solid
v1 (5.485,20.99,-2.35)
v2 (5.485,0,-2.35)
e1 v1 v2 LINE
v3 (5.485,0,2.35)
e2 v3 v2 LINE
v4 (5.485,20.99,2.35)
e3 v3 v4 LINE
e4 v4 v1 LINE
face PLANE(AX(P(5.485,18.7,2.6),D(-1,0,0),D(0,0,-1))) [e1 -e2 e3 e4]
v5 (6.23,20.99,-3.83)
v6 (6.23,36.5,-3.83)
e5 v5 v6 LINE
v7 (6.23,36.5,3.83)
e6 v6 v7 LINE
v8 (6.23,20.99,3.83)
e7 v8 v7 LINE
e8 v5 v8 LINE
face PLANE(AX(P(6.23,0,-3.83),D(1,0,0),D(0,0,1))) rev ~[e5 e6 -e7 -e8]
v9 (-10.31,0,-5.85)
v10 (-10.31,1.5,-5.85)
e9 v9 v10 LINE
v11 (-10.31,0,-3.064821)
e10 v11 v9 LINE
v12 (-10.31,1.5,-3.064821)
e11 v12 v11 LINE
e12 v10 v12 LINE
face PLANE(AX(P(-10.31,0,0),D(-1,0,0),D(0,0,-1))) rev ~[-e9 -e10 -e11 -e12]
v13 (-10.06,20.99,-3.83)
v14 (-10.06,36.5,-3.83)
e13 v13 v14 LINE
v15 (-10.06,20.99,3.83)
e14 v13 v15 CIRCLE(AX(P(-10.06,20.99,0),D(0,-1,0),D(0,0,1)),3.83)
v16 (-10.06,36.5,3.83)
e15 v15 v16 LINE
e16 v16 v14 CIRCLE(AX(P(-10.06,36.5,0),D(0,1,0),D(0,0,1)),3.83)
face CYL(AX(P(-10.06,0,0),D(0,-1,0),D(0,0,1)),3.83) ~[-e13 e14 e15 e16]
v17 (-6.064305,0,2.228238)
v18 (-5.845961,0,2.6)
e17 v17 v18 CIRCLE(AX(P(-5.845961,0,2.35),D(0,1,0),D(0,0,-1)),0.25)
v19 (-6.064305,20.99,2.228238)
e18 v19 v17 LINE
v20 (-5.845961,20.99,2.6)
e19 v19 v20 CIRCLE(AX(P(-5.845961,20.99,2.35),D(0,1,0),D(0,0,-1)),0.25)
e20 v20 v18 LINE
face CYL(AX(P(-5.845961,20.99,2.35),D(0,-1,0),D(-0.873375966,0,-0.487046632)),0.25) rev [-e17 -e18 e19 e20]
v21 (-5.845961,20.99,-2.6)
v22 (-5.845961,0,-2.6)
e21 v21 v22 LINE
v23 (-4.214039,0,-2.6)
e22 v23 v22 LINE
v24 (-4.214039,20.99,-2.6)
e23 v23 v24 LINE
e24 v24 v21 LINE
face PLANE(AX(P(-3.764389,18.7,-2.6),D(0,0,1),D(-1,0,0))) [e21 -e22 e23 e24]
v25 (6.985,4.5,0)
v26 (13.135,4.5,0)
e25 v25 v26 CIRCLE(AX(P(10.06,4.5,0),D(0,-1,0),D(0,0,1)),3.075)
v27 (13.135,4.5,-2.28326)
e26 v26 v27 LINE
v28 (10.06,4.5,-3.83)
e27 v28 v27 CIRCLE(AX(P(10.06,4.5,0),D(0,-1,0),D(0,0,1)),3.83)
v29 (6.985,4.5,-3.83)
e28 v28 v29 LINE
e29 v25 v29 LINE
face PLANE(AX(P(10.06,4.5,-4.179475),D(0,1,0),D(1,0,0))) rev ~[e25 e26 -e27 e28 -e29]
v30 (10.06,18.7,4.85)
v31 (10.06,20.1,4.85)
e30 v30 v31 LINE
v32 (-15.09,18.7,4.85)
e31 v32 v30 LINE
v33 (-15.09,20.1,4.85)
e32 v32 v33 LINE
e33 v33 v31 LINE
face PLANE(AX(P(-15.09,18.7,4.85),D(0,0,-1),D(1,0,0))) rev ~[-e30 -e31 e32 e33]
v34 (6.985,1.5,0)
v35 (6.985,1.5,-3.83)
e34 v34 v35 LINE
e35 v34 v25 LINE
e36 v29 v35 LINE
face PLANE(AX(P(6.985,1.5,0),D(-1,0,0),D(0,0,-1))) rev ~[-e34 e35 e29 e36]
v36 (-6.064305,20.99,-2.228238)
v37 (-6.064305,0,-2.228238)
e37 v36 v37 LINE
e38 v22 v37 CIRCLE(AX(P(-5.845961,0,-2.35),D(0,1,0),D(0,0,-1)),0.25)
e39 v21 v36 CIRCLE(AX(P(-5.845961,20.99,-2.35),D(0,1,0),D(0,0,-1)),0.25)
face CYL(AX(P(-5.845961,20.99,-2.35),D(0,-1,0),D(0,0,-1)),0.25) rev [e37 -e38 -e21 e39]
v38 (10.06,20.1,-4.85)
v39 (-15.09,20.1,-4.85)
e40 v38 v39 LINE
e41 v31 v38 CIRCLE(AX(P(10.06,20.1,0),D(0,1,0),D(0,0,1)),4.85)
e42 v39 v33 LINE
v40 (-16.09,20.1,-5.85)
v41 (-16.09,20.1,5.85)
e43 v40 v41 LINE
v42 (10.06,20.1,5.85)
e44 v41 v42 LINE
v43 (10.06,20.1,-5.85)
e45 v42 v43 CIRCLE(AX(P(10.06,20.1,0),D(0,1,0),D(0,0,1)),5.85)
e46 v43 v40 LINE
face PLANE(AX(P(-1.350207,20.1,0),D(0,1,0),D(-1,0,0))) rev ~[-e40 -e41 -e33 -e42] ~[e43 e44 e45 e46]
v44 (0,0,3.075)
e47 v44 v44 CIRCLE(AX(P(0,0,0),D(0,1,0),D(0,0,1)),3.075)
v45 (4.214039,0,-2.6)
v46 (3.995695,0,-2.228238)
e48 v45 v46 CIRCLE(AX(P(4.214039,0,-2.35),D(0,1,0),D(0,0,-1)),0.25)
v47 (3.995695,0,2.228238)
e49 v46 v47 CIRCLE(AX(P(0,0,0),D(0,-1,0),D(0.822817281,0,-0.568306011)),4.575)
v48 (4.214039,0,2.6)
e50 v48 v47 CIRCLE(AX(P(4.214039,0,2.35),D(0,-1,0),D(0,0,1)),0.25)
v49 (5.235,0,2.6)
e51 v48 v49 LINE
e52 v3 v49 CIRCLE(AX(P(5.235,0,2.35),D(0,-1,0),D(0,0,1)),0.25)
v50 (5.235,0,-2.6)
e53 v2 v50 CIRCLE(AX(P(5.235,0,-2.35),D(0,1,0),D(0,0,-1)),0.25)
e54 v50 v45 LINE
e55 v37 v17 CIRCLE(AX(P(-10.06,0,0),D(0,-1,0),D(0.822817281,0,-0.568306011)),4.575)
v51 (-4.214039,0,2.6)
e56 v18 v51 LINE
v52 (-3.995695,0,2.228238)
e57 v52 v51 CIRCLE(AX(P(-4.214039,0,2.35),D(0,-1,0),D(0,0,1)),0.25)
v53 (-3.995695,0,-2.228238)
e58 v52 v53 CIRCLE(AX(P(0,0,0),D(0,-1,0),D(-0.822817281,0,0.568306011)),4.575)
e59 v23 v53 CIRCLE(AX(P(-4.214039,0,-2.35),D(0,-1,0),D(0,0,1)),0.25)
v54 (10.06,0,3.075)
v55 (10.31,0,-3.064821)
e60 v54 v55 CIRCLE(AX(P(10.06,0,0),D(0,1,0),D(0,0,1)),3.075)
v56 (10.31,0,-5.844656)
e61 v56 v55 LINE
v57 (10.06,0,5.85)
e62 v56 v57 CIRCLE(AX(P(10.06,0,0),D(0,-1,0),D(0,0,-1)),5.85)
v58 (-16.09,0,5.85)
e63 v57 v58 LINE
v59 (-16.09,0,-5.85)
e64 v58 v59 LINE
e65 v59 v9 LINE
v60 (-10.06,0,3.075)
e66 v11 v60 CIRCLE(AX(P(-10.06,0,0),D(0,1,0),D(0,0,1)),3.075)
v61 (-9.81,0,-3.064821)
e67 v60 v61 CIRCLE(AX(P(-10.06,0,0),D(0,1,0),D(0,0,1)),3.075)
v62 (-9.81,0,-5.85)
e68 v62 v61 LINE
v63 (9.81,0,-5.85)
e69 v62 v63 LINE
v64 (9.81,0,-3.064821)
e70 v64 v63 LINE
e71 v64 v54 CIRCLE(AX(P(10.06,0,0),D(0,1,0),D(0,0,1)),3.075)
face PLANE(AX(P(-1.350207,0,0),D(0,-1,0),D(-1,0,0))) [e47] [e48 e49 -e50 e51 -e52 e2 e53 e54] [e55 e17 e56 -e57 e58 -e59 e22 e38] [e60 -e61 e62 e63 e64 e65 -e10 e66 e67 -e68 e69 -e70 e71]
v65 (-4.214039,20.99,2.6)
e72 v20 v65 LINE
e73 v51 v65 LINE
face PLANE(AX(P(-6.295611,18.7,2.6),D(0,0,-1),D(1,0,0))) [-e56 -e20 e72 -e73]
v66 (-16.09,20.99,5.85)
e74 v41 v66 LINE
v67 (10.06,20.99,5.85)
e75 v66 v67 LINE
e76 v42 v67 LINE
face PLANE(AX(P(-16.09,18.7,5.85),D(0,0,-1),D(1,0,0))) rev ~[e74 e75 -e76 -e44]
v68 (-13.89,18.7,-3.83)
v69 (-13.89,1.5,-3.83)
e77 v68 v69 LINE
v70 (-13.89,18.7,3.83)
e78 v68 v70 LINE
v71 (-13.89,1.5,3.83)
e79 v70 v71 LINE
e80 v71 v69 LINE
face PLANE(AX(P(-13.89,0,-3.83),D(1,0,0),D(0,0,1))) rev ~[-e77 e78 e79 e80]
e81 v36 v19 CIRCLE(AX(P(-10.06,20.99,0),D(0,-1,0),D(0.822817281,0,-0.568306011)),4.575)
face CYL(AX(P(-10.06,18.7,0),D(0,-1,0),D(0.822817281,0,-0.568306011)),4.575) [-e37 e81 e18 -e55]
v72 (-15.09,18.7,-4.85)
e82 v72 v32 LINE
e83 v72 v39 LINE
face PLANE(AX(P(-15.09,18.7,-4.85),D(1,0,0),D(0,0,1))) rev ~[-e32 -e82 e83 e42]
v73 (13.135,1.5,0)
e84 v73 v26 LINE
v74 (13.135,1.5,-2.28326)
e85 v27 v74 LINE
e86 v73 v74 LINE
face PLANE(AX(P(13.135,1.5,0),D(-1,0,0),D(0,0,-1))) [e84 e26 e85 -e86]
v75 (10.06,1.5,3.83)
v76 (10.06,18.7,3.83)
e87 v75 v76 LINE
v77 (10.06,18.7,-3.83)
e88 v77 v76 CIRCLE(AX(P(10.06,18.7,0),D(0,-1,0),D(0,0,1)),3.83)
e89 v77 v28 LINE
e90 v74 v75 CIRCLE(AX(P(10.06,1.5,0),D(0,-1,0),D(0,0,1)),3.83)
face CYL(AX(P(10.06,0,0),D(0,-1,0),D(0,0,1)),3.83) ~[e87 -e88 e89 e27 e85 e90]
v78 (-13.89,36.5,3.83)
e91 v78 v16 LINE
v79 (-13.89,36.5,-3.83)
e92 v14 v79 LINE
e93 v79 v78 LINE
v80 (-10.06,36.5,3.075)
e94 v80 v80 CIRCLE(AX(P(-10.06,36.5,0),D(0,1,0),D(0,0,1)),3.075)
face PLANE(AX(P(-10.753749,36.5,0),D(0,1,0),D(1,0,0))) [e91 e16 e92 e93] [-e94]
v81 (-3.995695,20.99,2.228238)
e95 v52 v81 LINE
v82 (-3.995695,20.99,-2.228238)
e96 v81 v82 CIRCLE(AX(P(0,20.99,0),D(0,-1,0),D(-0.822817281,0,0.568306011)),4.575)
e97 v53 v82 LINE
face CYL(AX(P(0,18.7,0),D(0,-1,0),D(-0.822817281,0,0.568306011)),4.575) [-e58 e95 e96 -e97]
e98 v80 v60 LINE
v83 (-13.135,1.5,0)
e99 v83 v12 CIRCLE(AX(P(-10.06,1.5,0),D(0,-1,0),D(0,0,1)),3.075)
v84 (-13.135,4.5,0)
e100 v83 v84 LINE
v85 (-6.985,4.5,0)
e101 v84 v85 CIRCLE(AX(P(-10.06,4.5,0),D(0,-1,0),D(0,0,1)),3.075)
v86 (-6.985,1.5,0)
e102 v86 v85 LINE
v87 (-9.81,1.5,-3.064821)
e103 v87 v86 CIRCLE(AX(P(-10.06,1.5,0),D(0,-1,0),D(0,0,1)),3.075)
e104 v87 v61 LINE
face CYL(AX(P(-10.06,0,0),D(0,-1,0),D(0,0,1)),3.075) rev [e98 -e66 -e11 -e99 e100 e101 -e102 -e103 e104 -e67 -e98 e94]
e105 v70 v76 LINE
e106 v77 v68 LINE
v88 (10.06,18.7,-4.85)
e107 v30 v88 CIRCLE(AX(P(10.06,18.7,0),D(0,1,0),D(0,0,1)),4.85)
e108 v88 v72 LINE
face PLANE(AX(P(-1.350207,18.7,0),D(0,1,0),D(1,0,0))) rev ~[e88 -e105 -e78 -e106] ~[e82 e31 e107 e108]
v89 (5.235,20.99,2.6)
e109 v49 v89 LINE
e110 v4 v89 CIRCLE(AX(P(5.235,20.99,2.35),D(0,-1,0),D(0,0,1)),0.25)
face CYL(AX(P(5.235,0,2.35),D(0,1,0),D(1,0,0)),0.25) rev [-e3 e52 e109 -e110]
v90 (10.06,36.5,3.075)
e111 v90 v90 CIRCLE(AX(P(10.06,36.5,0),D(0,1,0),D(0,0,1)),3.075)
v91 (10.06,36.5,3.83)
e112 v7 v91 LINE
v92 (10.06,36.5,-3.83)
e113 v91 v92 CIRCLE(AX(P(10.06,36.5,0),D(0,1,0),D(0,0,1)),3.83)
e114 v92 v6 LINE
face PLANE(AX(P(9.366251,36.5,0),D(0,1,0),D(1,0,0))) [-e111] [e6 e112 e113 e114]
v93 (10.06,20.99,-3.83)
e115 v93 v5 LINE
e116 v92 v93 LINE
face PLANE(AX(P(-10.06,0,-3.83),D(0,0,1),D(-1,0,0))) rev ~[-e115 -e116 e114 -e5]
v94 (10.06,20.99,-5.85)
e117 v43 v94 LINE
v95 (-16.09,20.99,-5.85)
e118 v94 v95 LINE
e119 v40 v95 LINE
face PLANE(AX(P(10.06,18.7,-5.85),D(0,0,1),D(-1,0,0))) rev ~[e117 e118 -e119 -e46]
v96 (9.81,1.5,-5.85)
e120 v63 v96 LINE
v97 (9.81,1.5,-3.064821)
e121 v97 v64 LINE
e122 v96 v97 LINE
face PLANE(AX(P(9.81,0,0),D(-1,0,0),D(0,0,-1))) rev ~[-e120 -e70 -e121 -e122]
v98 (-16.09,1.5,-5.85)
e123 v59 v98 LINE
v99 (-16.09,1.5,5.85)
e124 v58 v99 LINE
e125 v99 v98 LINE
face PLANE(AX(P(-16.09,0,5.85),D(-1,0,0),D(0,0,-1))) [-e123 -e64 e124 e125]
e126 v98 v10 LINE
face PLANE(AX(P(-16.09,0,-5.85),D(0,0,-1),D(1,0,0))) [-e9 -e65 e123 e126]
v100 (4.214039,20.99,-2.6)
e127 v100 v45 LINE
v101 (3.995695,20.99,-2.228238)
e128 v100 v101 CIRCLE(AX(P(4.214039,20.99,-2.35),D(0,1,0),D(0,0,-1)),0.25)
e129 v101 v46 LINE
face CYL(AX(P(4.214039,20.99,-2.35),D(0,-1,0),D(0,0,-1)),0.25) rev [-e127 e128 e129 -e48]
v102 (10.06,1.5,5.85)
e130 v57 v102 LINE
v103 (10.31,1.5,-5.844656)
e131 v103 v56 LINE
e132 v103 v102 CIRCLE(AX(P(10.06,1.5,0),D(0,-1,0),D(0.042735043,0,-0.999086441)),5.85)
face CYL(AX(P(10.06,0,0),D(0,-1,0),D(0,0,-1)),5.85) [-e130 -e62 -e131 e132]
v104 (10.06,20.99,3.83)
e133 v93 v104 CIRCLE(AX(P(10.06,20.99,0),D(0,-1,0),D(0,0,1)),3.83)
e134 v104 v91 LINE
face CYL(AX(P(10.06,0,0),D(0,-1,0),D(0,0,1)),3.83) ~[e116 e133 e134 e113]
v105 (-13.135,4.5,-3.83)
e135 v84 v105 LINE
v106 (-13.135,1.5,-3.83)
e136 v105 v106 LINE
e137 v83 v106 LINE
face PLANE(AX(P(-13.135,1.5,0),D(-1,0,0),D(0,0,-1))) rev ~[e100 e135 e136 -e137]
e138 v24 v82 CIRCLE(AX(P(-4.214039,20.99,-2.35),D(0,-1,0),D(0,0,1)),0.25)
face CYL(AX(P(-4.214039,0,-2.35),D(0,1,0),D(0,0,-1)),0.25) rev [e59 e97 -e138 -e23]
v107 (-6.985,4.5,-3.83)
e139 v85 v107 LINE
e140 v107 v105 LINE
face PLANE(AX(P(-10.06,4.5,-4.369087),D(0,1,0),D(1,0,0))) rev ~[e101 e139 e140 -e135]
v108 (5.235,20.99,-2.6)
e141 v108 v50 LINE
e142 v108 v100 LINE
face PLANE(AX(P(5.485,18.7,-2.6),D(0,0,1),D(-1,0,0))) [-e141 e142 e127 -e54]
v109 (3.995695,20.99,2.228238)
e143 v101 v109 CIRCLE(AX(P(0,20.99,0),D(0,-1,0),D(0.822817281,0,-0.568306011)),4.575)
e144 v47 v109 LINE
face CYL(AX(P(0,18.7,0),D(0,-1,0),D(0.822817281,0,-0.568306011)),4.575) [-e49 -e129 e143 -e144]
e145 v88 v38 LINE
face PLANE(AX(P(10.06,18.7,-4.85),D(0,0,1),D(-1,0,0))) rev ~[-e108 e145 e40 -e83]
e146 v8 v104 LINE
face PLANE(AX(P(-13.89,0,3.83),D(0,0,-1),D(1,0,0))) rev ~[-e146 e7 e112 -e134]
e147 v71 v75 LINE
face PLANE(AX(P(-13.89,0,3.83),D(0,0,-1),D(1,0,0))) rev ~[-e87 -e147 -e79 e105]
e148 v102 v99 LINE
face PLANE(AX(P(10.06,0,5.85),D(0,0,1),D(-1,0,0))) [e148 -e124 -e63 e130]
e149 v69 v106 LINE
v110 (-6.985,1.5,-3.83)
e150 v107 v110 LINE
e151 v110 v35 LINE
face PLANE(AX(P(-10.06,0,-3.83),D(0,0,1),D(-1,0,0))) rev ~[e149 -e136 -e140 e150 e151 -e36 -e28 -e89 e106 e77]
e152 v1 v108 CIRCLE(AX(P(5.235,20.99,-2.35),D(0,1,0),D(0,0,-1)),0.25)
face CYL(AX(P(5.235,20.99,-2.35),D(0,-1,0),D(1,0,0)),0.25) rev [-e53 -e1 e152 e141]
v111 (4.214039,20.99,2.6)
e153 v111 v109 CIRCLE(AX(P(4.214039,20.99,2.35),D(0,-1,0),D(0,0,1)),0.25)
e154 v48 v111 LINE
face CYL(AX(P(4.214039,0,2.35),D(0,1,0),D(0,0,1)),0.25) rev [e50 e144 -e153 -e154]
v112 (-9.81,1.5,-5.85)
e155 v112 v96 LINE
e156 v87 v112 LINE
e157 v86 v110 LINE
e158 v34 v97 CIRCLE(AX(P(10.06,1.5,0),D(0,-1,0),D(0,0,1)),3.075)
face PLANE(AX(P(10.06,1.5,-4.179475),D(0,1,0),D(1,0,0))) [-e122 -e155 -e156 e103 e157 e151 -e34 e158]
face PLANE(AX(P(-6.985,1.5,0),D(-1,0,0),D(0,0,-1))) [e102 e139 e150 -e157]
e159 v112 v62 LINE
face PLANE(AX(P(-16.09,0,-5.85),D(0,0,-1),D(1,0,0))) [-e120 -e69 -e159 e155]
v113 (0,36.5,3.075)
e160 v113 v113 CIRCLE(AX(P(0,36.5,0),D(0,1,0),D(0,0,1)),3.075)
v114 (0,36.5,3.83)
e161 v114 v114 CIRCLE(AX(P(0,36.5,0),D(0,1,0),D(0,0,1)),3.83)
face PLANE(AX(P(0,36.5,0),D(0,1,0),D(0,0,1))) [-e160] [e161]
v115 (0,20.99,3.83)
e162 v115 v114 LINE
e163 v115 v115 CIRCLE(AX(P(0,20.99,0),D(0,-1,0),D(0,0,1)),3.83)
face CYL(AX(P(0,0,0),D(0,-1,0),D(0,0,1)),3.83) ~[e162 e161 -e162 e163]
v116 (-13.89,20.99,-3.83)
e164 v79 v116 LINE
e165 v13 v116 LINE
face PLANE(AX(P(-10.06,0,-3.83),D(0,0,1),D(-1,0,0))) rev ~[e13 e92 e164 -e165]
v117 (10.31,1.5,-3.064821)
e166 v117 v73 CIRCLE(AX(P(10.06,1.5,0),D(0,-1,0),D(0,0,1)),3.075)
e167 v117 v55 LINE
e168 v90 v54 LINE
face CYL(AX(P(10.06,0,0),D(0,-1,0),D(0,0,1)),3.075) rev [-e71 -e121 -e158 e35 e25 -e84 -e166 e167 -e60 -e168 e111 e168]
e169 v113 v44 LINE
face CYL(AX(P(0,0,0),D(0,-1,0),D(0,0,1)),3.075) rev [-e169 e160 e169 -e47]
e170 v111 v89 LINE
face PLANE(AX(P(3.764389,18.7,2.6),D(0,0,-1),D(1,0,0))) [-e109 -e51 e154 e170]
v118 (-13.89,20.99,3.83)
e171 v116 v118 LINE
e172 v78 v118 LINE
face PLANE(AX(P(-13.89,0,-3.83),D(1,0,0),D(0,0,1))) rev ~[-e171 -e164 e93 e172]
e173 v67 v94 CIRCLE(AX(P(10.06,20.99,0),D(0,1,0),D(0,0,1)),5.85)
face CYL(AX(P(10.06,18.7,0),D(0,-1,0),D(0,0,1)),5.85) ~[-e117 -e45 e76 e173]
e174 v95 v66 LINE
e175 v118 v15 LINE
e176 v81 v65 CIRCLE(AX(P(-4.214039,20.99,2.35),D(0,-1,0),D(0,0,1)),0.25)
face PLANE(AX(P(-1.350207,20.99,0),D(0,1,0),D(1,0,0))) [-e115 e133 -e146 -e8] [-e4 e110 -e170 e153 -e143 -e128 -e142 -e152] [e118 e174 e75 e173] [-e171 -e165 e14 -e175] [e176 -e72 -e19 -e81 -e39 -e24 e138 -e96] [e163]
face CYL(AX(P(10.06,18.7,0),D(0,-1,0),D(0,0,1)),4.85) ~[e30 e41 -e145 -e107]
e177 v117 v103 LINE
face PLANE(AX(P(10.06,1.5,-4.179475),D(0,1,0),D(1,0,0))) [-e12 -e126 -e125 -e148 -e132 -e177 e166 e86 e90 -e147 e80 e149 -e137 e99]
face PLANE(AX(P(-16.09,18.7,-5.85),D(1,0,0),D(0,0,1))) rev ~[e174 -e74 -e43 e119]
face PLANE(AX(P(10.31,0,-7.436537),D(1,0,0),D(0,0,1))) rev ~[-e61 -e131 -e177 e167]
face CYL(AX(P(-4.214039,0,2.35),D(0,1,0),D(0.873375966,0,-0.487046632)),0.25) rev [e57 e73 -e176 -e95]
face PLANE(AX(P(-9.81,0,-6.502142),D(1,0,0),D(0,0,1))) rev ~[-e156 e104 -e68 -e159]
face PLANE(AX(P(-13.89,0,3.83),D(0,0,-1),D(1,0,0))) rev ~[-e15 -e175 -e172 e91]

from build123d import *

# Parameters (mm, degrees)
SKETCH1_R               = 3.83
SKETCH1_R_2             = 3.075
BOSS_EXTRUDE1_DEPTH     = 36.5
BOSS_EXTRUDE1_2_DEPTH   = 36.5
BOSS_EXTRUDE1_3_DEPTH   = 36.5
SKETCH2_R               = 3.075
BOSS_EXTRUDE2_DEPTH     = 1.5
SKETCH3_R               = 3.075
BOSS_EXTRUDE3_DEPTH     = 17.2
SKETCH4_R               = 3.075
BOSS_EXTRUDE4_DEPTH     = 2.29
CUT_EXTRUDE1_DEPTH      = 1.4
FILLET1_R               = 0.25
CUT_EXTRUDE_THIN2_DEPTH = 1.6
SKETCH7_W               = 6.15
SKETCH7_H               = 8.738173166
SKETCH7_H_2             = 8.358950775
CUT_EXTRUDE2_DEPTH      = 3


with BuildPart() as part:
    # Sketch1 → Boss-Extrude1 (new body)
    with BuildSketch(Plane(origin=(0, 0, 0), x_dir=(1, 0, 0), z_dir=(0, 1, 0))):
        with Locations(Location((0, 0, 0), (0, 0, 270))):
            Circle(SKETCH1_R)
        with Locations(Location((0, 0, 0), (0, 0, 270))):
            Circle(SKETCH1_R_2, mode=Mode.SUBTRACT)
    extrude(amount=BOSS_EXTRUDE1_DEPTH)



with BuildPart() as body_2:
    # Sketch1 → Boss-Extrude1 2 (new body)
    with BuildSketch(Plane(origin=(0, 0, 0), x_dir=(1, 0, 0), z_dir=(0, 1, 0))):
        with BuildLine():
            Line((-10.06, 3.83), (-13.89, 3.83))
            Line((-13.89, 3.83), (-13.89, -3.83))
            Line((-13.89, -3.83), (-10.06, -3.83))
            ThreePointArc((-10.06, -3.83), (-6.23, 0), (-10.06, 3.83))
        make_face()
        with Locations(Location((-10.06, 0, 0), (0, 0, 270))):
            Circle(SKETCH1_R_2, mode=Mode.SUBTRACT)
    extrude(amount=BOSS_EXTRUDE1_2_DEPTH)


with BuildPart() as body_3:
    # Sketch1 → Boss-Extrude1 3 (new body)
    with BuildSketch(Plane(origin=(0, 0, 0), x_dir=(1, 0, 0), z_dir=(0, 1, 0))):
        with BuildLine():
            Line((10.06, 3.83), (6.23, 3.83))
            Line((6.23, 3.83), (6.23, -3.83))
            Line((6.23, -3.83), (10.06, -3.83))
            ThreePointArc((10.06, -3.83), (13.89, 0), (10.06, 3.83))
        make_face()
        with Locations(Location((10.06, 0, 0), (0, 0, 270))):
            Circle(SKETCH1_R_2, mode=Mode.SUBTRACT)
    extrude(amount=BOSS_EXTRUDE1_3_DEPTH)


with BuildPart() as part_1:
    add(part.part)

    add(body_2.part)  # Boss-Extrude2 merges body 2

    add(body_3.part)  # Boss-Extrude2 merges body 3
    # Sketch2 → Boss-Extrude2 (add)
    with BuildSketch(Plane(origin=(0, 0, 0), x_dir=(1, 0, 0), z_dir=(0, 1, 0))):
        with BuildLine():
            Line((-10.06, 5.85), (10.06, 5.85))
            ThreePointArc((10.06, 5.85), (15.91, 0), (10.06, -5.85))
            Line((10.06, -5.85), (-10.06, -5.85))
            Line((-10.06, -5.85), (-16.09, -5.85))
            Line((-16.09, -5.85), (-16.09, 5.85))
            Line((-16.09, 5.85), (-10.06, 5.85))
        make_face()
        with Locations(Location((-10.06, 0, 0), (0, 0, 270))):
            Circle(SKETCH2_R, mode=Mode.SUBTRACT)
        with Locations(Location((0, 0, 0), (0, 0, 270))):
            Circle(SKETCH2_R, mode=Mode.SUBTRACT)
        with Locations(Location((10.06, 0, 0), (0, 0, 270))):
            Circle(SKETCH2_R, mode=Mode.SUBTRACT)
        with BuildLine():
            Line((5.485, -2.6), (5.485, 2.6))
            Line((5.485, 2.6), (3.764389061, 2.6))
            ThreePointArc((3.764389061, 2.6), (4.575, 0), (3.764389061, -2.6))
            Line((3.764389061, -2.6), (5.485, -2.6))
        make_face(mode=Mode.SUBTRACT)
        with BuildLine():
            Line((-3.764389061, 2.6), (-6.295610939, 2.6))
            ThreePointArc((-6.295610939, 2.6), (-5.485, 0), (-6.295610939, -2.6))
            Line((-6.295610939, -2.6), (-3.764389061, -2.6))
            ThreePointArc((-3.764389061, -2.6), (-4.575, 0), (-3.764389061, 2.6))
        make_face(mode=Mode.SUBTRACT)
    extrude(amount=BOSS_EXTRUDE2_DEPTH)

    # Sketch3 → Boss-Extrude3 (add)
    with BuildSketch(Plane(origin=(0, 1.5, 0), x_dir=(1, 0, 0), z_dir=(0, 1, 0))):
        with BuildLine():
            Line((-1.387862692, -3.83), (-13.89, -3.83))
            Line((-13.89, -3.83), (-13.89, 3.83))
            Line((-13.89, 3.83), (-3.321031177, 3.83))
            Line((-3.321031177, 3.83), (10.06, 3.83))
            ThreePointArc((10.06, 3.83), (13.89, 0), (10.06, -3.83))
            Line((10.06, -3.83), (-1.387862692, -3.83))
        make_face()
        with Locations(Location((-10.06, 0, 0), (0, 0, 270))):
            Circle(SKETCH3_R, mode=Mode.SUBTRACT)
        with Locations(Location((0, 0, 0), (0, 0, 270))):
            Circle(SKETCH3_R, mode=Mode.SUBTRACT)
        with Locations(Location((10.06, 0, 0), (0, 0, 270))):
            Circle(SKETCH3_R, mode=Mode.SUBTRACT)
        with BuildLine():
            Line((-3.764389061, 2.6), (-6.295610939, 2.6))
            ThreePointArc((-6.295610939, 2.6), (-5.485, 0), (-6.295610939, -2.6))
            Line((-6.295610939, -2.6), (-3.764389061, -2.6))
            ThreePointArc((-3.764389061, -2.6), (-4.575, 0), (-3.764389061, 2.6))
        make_face(mode=Mode.SUBTRACT)
        with BuildLine():
            Line((5.485, -2.6), (5.485, 2.6))
            Line((5.485, 2.6), (3.764389061, 2.6))
            ThreePointArc((3.764389061, 2.6), (4.575, 0), (3.764389061, -2.6))
            Line((3.764389061, -2.6), (5.485, -2.6))
        make_face(mode=Mode.SUBTRACT)
    extrude(amount=BOSS_EXTRUDE3_DEPTH)

    # Sketch4 → Boss-Extrude4 (add)
    with BuildSketch(Plane(origin=(0, 18.7, 0), x_dir=(1, 0, 0), z_dir=(0, 1, 0))):
        with BuildLine():
            Line((10.06, 5.85), (-10.06, 5.85))
            Line((-10.06, 5.85), (-16.09, 5.85))
            Line((-16.09, 5.85), (-16.09, -5.85))
            Line((-16.09, -5.85), (-10.06, -5.85))
            Line((-10.06, -5.85), (10.06, -5.85))
            ThreePointArc((10.06, -5.85), (15.91, 0), (10.06, 5.85))
        make_face()
        with Locations(Location((-10.06, 0, 0), (0, 0, 270))):
            Circle(SKETCH4_R, mode=Mode.SUBTRACT)
        with Locations(Location((10.06, 0, 0), (0, 0, 270))):
            Circle(SKETCH4_R, mode=Mode.SUBTRACT)
        with Locations(Location((0, 0, 0), (0, 0, 270))):
            Circle(SKETCH4_R, mode=Mode.SUBTRACT)
        with BuildLine():
            Line((-3.764389061, 2.6), (-6.295610939, 2.6))
            ThreePointArc((-6.295610939, 2.6), (-5.485, 0), (-6.295610939, -2.6))
            Line((-6.295610939, -2.6), (-3.764389061, -2.6))
            ThreePointArc((-3.764389061, -2.6), (-4.575, 0), (-3.764389061, 2.6))
        make_face(mode=Mode.SUBTRACT)
        with BuildLine():
            Line((5.485, -2.6), (5.485, 2.6))
            Line((5.485, 2.6), (3.764389061, 2.6))
            ThreePointArc((3.764389061, 2.6), (4.575, 0), (3.764389061, -2.6))
            Line((3.764389061, -2.6), (5.485, -2.6))
        make_face(mode=Mode.SUBTRACT)
    extrude(amount=BOSS_EXTRUDE4_DEPTH)

    # Sketch5 → Cut-Extrude1 (cut)
    with BuildSketch(Plane.XZ.offset(-18.7)):
        with BuildLine():
            Line((-16.09, 5.85), (10.06, 5.85))
            ThreePointArc((10.06, 5.85), (15.91, 0), (10.06, -5.85))
            Line((10.06, -5.85), (-16.09, -5.85))
            Line((-16.09, -5.85), (-16.09, 5.85))
        make_face()
        with BuildLine():
            Line((-15.09, 4.85), (10.06, 4.85))
            ThreePointArc((10.06, 4.85), (14.91, 0), (10.06, -4.85))
            Line((10.06, -4.85), (-15.09, -4.85))
            Line((-15.09, -4.85), (-15.09, 4.85))
        make_face(mode=Mode.SUBTRACT)
    extrude(amount=-CUT_EXTRUDE1_DEPTH, mode=Mode.SUBTRACT)

    # Fillet1
    fillet1_edges = [part_1.edges().sort_by_distance(p)[0] for p in [
        (-3.764389061, 10.495, -2.6),
        (-6.295610939, 10.495, -2.6),
        (-6.295610939, 10.495, 2.6),
        (-3.764389061, 10.495, 2.6),
        (5.485, 10.495, 2.6),
        (5.485, 10.495, -2.6),
        (3.764389061, 10.495, -2.6),
        (3.764389061, 10.495, 2.6),
    ]]
    fillet(fillet1_edges, radius=FILLET1_R)

    # Sketch6 → Cut-Extrude-Thin2 (cut)
    with BuildSketch(Plane.XZ):
        Polygon((-10.31, 0), (-10.31, -6.991466743), (10.31, -7.436536546), (10.31, 0), (9.81, 0), (9.81, -6.925627901), (-9.81, -6.502142473), (-9.81, 0), align=None)
    extrude(amount=-CUT_EXTRUDE_THIN2_DEPTH, mode=Mode.SUBTRACT)

    # Sketch7 → Cut-Extrude2 (cut)
    with BuildSketch(Plane(origin=(0, 1.5, 0), x_dir=(1, 0, 0), z_dir=(0, 1, 0))):
        with Locations((-10.06, 4.369086583)):
            Rectangle(SKETCH7_W, SKETCH7_H)
        with Locations((10.06, 4.179475388)):
            Rectangle(SKETCH7_W, SKETCH7_H_2)
    extrude(amount=CUT_EXTRUDE2_DEPTH, mode=Mode.SUBTRACT)


solid = part_1.part
